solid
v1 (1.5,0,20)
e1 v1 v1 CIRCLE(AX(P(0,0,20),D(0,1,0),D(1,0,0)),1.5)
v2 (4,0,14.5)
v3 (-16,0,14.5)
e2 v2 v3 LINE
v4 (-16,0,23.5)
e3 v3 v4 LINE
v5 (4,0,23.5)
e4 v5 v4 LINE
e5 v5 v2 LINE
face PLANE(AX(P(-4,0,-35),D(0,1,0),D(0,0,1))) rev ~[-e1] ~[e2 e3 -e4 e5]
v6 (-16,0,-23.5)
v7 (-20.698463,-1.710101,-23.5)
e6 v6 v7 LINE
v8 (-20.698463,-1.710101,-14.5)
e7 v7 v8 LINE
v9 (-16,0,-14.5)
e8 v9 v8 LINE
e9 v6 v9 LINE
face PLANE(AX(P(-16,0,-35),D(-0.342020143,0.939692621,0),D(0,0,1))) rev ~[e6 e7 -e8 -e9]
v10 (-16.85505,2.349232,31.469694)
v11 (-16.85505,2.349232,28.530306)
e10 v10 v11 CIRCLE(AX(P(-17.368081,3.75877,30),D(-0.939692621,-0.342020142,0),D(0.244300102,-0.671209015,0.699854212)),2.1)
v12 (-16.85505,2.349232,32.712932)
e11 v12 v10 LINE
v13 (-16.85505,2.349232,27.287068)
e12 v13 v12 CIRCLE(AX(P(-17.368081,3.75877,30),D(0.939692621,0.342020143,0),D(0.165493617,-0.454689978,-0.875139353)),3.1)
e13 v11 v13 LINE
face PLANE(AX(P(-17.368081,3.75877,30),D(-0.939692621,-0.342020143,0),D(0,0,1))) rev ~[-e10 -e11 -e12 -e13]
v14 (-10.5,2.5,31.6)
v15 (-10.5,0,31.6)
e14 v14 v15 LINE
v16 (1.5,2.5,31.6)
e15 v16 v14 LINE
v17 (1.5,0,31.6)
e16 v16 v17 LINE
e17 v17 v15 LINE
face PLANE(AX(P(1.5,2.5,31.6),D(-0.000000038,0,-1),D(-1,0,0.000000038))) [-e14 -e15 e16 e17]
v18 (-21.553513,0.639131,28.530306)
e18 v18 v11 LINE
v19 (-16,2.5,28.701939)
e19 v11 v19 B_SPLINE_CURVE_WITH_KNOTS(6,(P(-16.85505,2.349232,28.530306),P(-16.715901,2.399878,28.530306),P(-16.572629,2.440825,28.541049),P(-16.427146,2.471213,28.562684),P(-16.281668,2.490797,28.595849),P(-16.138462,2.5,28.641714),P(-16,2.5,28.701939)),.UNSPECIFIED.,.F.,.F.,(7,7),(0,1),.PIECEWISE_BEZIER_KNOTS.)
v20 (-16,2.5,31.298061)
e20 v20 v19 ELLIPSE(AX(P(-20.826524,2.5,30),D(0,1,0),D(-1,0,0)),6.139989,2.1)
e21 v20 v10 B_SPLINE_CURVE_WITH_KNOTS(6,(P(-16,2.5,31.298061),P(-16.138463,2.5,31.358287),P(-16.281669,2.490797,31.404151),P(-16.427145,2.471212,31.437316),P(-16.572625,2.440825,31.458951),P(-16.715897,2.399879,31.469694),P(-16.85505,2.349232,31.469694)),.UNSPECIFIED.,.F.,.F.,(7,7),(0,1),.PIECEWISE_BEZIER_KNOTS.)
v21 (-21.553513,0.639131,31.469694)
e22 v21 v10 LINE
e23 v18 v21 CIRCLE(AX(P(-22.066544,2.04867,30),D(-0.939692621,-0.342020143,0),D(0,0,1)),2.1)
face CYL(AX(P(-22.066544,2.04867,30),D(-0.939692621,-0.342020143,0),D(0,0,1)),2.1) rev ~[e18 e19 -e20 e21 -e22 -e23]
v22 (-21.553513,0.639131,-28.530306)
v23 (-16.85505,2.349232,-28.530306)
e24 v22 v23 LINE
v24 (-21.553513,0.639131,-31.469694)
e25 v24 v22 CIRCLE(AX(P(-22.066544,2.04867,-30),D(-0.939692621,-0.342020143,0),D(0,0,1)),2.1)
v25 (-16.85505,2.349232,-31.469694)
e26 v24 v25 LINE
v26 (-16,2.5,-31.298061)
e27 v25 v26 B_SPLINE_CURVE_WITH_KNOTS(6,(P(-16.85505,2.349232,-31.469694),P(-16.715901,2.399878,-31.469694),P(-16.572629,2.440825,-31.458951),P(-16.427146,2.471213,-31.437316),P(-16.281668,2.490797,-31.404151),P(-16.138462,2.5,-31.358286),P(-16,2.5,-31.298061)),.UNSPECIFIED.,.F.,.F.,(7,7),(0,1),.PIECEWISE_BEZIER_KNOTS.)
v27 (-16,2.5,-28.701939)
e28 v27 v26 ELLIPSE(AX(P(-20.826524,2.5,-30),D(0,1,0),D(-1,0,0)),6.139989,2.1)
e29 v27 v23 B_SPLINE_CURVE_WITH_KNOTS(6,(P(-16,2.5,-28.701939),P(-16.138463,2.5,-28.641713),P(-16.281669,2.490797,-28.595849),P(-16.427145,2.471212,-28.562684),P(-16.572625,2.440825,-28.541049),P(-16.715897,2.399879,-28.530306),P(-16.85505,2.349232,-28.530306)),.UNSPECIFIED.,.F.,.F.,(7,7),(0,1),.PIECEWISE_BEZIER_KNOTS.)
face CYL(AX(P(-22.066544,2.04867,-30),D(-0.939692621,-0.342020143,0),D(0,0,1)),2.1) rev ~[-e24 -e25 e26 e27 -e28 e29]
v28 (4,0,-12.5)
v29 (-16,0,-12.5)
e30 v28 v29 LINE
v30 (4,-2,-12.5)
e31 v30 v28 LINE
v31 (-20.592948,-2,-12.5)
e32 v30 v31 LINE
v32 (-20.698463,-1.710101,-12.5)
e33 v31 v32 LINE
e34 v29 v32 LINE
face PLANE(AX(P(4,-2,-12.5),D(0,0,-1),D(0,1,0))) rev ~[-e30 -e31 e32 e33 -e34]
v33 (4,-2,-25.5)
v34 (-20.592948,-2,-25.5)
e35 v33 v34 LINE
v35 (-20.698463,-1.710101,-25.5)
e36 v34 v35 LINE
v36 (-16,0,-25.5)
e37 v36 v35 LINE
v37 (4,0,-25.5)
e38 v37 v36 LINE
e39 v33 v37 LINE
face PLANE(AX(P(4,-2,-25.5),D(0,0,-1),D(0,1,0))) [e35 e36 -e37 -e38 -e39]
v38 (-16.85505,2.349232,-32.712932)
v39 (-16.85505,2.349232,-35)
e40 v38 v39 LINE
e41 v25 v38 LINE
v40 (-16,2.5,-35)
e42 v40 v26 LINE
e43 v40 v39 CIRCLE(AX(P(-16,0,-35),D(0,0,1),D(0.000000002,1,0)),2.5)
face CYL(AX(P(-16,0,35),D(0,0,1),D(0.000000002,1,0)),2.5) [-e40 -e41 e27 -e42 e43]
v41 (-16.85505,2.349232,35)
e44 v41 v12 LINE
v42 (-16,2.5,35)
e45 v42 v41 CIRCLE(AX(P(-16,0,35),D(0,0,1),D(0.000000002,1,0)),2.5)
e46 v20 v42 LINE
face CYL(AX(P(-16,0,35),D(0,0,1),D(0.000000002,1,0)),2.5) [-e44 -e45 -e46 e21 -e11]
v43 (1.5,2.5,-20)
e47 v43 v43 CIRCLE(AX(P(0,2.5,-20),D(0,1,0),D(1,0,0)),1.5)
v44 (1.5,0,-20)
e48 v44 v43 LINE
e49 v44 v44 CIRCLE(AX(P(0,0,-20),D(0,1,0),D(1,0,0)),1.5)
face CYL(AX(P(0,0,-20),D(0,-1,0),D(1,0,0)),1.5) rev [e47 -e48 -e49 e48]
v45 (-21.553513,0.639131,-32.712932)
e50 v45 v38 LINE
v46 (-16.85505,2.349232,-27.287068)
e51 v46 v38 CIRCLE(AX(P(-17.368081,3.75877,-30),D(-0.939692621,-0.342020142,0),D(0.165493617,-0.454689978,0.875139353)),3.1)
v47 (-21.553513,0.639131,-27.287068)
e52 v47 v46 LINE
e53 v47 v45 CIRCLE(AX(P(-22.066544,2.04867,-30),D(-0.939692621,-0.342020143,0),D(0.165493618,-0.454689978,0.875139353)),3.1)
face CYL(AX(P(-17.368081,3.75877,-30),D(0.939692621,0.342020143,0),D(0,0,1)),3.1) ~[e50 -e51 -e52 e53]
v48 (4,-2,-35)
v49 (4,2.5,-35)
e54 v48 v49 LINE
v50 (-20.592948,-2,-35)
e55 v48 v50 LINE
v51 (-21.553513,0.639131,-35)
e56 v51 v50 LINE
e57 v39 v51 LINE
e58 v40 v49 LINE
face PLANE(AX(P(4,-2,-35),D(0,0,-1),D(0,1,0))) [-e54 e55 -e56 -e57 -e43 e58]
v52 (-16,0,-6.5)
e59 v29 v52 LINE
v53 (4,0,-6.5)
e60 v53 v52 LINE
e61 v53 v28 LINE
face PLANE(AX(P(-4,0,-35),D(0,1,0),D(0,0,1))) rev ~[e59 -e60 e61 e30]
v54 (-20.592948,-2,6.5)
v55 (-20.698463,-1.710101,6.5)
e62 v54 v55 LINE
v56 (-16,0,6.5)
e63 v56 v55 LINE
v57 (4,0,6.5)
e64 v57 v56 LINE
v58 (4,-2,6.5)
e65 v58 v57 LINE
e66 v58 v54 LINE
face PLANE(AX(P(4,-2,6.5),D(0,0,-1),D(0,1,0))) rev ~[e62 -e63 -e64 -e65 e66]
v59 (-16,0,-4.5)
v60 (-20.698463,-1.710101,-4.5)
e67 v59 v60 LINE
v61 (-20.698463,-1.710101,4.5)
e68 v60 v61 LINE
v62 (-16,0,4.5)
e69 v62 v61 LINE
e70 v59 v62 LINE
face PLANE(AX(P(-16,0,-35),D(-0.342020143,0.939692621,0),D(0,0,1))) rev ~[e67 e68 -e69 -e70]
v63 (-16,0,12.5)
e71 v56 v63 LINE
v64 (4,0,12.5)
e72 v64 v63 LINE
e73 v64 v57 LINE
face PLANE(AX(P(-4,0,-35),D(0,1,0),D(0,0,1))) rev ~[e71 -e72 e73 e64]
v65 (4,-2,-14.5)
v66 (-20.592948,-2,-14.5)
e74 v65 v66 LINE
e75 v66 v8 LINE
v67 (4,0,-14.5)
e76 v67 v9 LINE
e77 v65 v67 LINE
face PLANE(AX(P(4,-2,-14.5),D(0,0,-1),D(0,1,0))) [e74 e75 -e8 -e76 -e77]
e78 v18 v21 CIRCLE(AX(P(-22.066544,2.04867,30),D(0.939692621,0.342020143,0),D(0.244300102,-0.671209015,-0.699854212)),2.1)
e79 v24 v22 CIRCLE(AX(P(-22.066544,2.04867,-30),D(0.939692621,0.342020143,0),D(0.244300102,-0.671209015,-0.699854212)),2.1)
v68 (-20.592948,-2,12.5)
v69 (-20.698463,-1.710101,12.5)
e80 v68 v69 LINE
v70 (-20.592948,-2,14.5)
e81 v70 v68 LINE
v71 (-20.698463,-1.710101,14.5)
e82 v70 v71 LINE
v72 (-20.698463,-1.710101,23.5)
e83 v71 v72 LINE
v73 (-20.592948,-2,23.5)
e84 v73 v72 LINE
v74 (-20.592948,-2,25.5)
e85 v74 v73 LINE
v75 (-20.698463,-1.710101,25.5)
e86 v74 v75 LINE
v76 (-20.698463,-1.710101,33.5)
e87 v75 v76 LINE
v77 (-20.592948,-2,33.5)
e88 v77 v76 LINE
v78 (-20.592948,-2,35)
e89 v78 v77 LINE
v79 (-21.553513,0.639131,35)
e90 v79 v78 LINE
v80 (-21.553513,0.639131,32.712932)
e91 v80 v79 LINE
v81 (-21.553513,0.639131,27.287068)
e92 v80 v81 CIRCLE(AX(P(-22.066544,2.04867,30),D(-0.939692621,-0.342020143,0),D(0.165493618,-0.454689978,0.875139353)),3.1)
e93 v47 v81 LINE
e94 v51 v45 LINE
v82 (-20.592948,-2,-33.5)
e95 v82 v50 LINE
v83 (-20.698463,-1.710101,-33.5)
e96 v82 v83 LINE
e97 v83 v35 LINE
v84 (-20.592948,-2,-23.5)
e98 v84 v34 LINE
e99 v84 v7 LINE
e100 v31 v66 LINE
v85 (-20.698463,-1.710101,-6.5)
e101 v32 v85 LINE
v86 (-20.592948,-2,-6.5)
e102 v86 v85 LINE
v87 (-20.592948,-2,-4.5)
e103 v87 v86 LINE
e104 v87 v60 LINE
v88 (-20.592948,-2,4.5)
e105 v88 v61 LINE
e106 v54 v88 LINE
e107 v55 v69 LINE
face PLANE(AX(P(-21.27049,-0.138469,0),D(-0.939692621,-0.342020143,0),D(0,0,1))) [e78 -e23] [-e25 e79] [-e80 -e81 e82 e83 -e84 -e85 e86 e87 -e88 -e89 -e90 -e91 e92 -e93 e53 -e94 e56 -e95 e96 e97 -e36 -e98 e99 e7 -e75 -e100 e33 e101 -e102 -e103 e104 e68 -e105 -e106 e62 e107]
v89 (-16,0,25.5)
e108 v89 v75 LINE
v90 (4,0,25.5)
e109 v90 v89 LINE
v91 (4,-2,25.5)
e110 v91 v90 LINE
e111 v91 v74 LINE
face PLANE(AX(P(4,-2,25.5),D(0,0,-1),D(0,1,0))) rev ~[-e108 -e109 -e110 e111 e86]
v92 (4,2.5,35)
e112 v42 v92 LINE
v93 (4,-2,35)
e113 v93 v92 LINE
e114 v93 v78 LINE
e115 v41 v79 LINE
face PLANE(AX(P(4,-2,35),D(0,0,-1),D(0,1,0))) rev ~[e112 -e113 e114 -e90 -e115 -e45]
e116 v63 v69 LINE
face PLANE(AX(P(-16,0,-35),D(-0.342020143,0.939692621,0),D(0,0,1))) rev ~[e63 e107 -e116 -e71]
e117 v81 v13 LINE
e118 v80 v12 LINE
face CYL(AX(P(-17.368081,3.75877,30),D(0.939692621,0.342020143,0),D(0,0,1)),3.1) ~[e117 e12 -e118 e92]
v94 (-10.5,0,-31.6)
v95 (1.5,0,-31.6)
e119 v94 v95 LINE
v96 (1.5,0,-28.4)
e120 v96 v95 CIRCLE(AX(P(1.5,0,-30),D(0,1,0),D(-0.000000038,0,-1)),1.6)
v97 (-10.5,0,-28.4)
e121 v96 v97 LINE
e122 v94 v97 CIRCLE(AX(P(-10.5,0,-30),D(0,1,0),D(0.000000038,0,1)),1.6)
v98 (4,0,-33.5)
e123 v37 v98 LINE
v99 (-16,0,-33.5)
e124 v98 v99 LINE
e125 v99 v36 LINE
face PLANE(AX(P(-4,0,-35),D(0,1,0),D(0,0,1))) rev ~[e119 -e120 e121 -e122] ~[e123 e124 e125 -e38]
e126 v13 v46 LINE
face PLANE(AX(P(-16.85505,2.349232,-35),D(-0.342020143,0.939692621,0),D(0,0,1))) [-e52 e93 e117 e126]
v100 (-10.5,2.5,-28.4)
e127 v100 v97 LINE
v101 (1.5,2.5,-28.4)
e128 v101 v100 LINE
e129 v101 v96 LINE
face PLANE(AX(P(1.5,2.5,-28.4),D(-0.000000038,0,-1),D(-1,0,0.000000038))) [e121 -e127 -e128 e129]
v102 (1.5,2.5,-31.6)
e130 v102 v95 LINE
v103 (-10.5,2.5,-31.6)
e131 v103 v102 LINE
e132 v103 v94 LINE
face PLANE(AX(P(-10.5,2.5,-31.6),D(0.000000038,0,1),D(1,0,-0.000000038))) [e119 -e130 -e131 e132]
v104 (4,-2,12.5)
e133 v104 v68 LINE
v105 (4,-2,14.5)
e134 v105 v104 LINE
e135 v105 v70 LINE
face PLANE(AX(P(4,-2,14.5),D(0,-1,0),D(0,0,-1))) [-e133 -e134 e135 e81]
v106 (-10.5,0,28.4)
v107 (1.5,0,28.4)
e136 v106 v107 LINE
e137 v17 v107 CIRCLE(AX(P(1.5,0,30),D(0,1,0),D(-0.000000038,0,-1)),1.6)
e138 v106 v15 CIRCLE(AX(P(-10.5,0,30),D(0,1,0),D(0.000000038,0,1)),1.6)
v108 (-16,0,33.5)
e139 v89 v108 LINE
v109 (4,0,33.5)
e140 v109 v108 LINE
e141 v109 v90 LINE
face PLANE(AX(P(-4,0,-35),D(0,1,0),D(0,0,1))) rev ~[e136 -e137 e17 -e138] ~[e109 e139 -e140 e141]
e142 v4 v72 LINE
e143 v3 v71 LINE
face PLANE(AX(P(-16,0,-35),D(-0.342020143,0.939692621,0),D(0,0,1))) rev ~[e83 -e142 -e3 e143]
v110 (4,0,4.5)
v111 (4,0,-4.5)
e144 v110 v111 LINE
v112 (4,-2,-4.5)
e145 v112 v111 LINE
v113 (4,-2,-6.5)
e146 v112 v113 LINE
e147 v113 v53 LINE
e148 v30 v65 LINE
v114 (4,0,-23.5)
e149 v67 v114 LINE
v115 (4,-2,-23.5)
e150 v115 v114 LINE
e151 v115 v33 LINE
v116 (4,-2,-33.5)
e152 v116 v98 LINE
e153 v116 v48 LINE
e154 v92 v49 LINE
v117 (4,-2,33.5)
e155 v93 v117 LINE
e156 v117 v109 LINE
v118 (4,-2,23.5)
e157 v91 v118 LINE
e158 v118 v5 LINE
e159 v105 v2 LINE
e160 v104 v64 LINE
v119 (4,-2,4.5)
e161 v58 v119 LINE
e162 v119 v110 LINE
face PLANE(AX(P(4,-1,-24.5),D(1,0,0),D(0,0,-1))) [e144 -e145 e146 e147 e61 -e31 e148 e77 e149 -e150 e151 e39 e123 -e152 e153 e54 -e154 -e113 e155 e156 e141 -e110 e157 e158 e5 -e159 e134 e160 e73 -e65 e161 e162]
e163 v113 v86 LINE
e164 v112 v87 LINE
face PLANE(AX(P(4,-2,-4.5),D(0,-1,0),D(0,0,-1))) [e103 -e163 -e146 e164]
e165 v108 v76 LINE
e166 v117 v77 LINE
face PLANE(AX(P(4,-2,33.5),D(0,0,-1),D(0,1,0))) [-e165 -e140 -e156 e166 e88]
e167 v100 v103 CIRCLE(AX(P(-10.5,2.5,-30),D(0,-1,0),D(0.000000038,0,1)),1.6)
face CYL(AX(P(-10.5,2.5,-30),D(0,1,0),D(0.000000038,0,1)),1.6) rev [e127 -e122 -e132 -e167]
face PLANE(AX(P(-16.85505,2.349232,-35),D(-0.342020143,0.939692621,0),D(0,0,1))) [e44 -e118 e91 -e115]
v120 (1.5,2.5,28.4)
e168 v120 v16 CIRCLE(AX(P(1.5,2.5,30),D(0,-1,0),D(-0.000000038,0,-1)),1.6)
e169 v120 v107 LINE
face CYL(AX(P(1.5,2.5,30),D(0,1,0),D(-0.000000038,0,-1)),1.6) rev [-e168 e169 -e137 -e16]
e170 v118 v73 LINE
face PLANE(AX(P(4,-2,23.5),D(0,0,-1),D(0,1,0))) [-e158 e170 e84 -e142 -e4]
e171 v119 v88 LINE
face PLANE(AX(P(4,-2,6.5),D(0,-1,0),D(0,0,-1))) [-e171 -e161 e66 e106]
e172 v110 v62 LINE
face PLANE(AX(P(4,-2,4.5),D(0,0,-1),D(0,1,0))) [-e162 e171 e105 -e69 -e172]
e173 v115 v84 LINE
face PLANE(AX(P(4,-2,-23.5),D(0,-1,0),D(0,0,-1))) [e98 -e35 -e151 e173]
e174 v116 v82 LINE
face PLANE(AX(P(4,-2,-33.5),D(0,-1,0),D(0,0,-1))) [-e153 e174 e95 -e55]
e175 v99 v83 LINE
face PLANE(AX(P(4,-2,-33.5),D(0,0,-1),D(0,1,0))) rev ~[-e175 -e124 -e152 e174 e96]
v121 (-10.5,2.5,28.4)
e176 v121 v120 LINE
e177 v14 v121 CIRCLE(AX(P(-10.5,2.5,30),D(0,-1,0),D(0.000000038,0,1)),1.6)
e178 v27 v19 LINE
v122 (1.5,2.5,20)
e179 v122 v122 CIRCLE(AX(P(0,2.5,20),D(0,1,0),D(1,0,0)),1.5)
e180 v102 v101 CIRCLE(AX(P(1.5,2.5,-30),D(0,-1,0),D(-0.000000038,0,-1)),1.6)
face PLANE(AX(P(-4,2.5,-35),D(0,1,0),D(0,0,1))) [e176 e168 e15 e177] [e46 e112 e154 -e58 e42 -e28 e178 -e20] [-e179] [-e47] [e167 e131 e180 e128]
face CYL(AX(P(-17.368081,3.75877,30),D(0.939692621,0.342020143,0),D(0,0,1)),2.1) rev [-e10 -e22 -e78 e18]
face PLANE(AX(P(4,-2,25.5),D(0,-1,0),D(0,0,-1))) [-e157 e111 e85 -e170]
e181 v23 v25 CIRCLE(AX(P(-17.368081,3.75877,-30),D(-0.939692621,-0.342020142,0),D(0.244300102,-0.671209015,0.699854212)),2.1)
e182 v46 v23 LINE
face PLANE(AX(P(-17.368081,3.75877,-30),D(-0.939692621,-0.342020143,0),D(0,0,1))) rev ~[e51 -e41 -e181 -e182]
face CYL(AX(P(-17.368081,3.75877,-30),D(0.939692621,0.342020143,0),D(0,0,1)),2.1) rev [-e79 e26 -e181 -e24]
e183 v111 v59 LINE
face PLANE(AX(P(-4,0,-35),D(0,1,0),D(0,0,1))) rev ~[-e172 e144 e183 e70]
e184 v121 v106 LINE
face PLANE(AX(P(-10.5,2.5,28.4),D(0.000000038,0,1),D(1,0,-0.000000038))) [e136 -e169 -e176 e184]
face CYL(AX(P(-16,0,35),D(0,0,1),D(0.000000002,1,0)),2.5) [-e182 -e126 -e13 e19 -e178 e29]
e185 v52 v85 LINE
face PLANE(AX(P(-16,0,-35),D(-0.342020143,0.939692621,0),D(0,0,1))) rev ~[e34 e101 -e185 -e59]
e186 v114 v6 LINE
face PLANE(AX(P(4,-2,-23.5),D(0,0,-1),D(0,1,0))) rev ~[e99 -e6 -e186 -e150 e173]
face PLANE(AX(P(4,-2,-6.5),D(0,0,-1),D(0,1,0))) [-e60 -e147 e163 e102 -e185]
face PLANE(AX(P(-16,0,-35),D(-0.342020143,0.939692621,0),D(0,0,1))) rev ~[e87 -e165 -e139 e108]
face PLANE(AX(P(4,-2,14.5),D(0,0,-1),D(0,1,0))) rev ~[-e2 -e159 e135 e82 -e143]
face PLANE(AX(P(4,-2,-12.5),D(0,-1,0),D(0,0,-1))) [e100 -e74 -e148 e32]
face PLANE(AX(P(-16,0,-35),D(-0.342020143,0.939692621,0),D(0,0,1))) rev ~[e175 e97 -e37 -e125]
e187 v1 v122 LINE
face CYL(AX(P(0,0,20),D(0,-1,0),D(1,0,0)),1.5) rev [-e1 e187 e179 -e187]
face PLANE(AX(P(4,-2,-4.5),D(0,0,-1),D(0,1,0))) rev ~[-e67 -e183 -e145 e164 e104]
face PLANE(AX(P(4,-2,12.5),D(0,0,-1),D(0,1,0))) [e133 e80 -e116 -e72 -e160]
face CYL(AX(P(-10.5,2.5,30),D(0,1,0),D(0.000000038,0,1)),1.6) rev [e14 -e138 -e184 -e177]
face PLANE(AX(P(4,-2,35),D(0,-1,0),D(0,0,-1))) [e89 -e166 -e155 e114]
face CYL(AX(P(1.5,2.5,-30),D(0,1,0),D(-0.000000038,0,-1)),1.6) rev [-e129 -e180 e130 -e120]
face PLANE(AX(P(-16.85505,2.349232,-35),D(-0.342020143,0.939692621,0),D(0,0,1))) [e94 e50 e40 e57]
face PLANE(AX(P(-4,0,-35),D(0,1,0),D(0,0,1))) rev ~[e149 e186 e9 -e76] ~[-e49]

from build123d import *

# Parameters (mm, degrees)
SKETCH_1_W          = 8
SKETCH_1_H          = 70
SKETCH_1_R          = 1.5
EXTRUDE_1_DEPTH     = 2.5
SKETCH_4_W          = 70
SKETCH_4_H          = 2.5
EXTRUDE_3_DEPTH     = 12
EXTRUDE_4_DEPTH     = 70
SKETCH_7_R          = 3.1
SKETCH_7_R_2        = 2.1
EXTRUDE_2_DEPTH     = 5
SKETCH_8_W          = 70
SKETCH_8_H          = 2.5
EXTRUDE_5_DEPTH     = 5
CUT_EXTRUDE_1_REACH = 28.076
SKETCH_9_R          = 2.1
CUT_EXTRUDE_2_DEPTH = 10
EXTRUDE_6_REACH     = 29.127
SKETCH_15_W         = 1.5
SKETCH_15_H         = 2
SKETCH_15_W_2       = 2


with BuildPart() as part:
    # 草图1 → 凸台-拉伸1 (new body)
    with BuildSketch(Plane(origin=(0, 0, 0), x_dir=(1, 0, 0), z_dir=(0, 1, 0))):
        Rectangle(SKETCH_1_W, SKETCH_1_H)
        with Locations((0, 30)):
            Circle(SKETCH_1_R, mode=Mode.SUBTRACT)
        with Locations((0, 20)):
            Circle(SKETCH_1_R, mode=Mode.SUBTRACT)
        with Locations((0, -20)):
            Circle(SKETCH_1_R, mode=Mode.SUBTRACT)
        with Locations((0, -30)):
            Circle(SKETCH_1_R, mode=Mode.SUBTRACT)
    extrude(amount=EXTRUDE_1_DEPTH)

    # 草图4 → 凸台-拉伸3 (add)
    with BuildSketch(Plane.ZY.offset(4)):
        with Locations((0, 1.25)):
            Rectangle(SKETCH_4_W, SKETCH_4_H)
    extrude(amount=EXTRUDE_3_DEPTH)

    # 草图6 → 凸台-拉伸4 (add)
    with BuildSketch(Plane.XY.offset(35)):
        with BuildLine():
            Line((-16.855050358, 2.349231552), (-16, 0))
            Line((-16, 0), (-16, 2.5))
            ThreePointArc((-16, 2.5), (-16.434120444, 2.462019383), (-16.855050358, 2.349231552))
        make_face()
    extrude(amount=-EXTRUDE_4_DEPTH)

    # 草图7 → 拉伸-薄壁2 (add)
    with BuildSketch(Plane(origin=(-14.128355545, -5.142300877, 0), x_dir=(0, 0, 1), z_dir=(-0.939692621, -0.342020143, 0))):
        with Locations((30, 9.472322293)):
            Circle(SKETCH_7_R)
        with Locations((30, 9.472322293)):
            Circle(SKETCH_7_R_2, mode=Mode.SUBTRACT)
        with Locations((-30, 9.472322293)):
            Circle(SKETCH_7_R)
        with Locations((-30, 9.472322293)):
            Circle(SKETCH_7_R_2, mode=Mode.SUBTRACT)
    extrude(amount=EXTRUDE_2_DEPTH)

    # 草图8 → 凸台-拉伸5 (add)
    with BuildSketch(Plane(origin=(-14.128355545, -5.142300877, 0), x_dir=(0, 0, 1), z_dir=(-0.939692621, -0.342020143, 0))):
        with Locations((0, 6.722322293)):
            Rectangle(SKETCH_8_W, SKETCH_8_H)
    extrude(amount=EXTRUDE_5_DEPTH)

    # 草图9 → 切除-拉伸1 (cut, up to next)
    with BuildSketch(Plane(origin=(-18.826818649, -6.852401594, 0), x_dir=(0, 0, 1), z_dir=(-0.939692621, -0.342020143, 0)), mode=Mode.PRIVATE) as cut_extrude_1_sk1:
        with Locations((-30, 9.472322293)):
            Circle(SKETCH_9_R)
    cut_extrude_1_tool1 = extrude(cut_extrude_1_sk1.sketch, amount=-CUT_EXTRUDE_1_REACH, mode=Mode.PRIVATE) & part.part
    add(cut_extrude_1_tool1.solids().sort_by_distance((-22.066544, 2.04867, -30))[0], mode=Mode.SUBTRACT)
    # 草图9 → 切除-拉伸1 (cut, up to next)
    with BuildSketch(Plane(origin=(-18.826818649, -6.852401594, 0), x_dir=(0, 0, 1), z_dir=(-0.939692621, -0.342020143, 0)), mode=Mode.PRIVATE) as cut_extrude_1_sk2:
        with Locations((30, 9.472322293)):
            Circle(SKETCH_9_R)
    cut_extrude_1_tool2 = extrude(cut_extrude_1_sk2.sketch, amount=-CUT_EXTRUDE_1_REACH, mode=Mode.PRIVATE) & part.part
    add(cut_extrude_1_tool2.solids().sort_by_distance((-22.066544, 2.04867, 30))[0], mode=Mode.SUBTRACT)

    # 草图11 → 切除-拉伸2 (cut)
    with BuildSketch(Plane(origin=(0, 2.5, 0), x_dir=(1, 0, 0), z_dir=(0, 1, 0))):
        with BuildLine():
            Line((1.500000061, 28.40000046), (-10.499999939, 28.4))
            ThreePointArc((-10.499999939, 28.4), (-12.1, 29.999999939), (-10.500000061, 31.6))
            Line((-10.500000061, 31.6), (1.499999939, 31.60000046))
            ThreePointArc((1.499999939, 31.60000046), (3.1, 30.000000521), (1.500000061, 28.40000046))
        make_face()
        with BuildLine():
            Line((1.500000061, -31.59999977), (-10.499999939, -31.60000023))
            ThreePointArc((-10.499999939, -31.60000023), (-12.1, -30.000000291), (-10.500000061, -28.40000023))
            Line((-10.500000061, -28.40000023), (1.499999939, -28.39999977))
            ThreePointArc((1.499999939, -28.39999977), (3.1, -29.999999709), (1.500000061, -31.59999977))
        make_face()
    extrude(amount=-CUT_EXTRUDE_2_DEPTH, mode=Mode.SUBTRACT)

    # 凸台-拉伸6: up to this face of the body (flat: up to its plane)
    extrude_6_end = Plane(part.part.faces().sort_by_distance((-21.270490347, -0.138468784, 0))[0])
    # 草图15 → 凸台-拉伸6 (add, up to the picked face)
    with BuildSketch(Plane(origin=(4, 0, 0), x_dir=(0, 0, -1), z_dir=(1, 0, 0)), mode=Mode.PRIVATE) as extrude_6_sk1:
        with Locations((-34.25, -1)):
            Rectangle(SKETCH_15_W, SKETCH_15_H)
    extrude_6_tool1 = split(extrude(extrude_6_sk1.sketch, amount=-EXTRUDE_6_REACH, mode=Mode.PRIVATE), bisect_by=extrude_6_end, keep=Keep.BOTH, mode=Mode.PRIVATE)
    add(extrude_6_tool1.solids().sort_by_distance((4, -1, 34.25))[0])
    # 草图15 → 凸台-拉伸6 (add, up to the picked face)
    with BuildSketch(Plane(origin=(4, 0, 0), x_dir=(0, 0, -1), z_dir=(1, 0, 0)), mode=Mode.PRIVATE) as extrude_6_sk2:
        with Locations((-24.5, -1)):
            Rectangle(SKETCH_15_W_2, SKETCH_15_H)
    extrude_6_tool2 = split(extrude(extrude_6_sk2.sketch, amount=-EXTRUDE_6_REACH, mode=Mode.PRIVATE), bisect_by=extrude_6_end, keep=Keep.BOTH, mode=Mode.PRIVATE)
    add(extrude_6_tool2.solids().sort_by_distance((4, -1, 24.5))[0])
    # 草图15 → 凸台-拉伸6 (add, up to the picked face)
    with BuildSketch(Plane(origin=(4, 0, 0), x_dir=(0, 0, -1), z_dir=(1, 0, 0)), mode=Mode.PRIVATE) as extrude_6_sk3:
        with Locations((-13.5, -1)):
            Rectangle(SKETCH_15_W_2, SKETCH_15_H)
    extrude_6_tool3 = split(extrude(extrude_6_sk3.sketch, amount=-EXTRUDE_6_REACH, mode=Mode.PRIVATE), bisect_by=extrude_6_end, keep=Keep.BOTH, mode=Mode.PRIVATE)
    add(extrude_6_tool3.solids().sort_by_distance((4, -1, 13.5))[0])
    # 草图15 → 凸台-拉伸6 (add, up to the picked face)
    with BuildSketch(Plane(origin=(4, 0, 0), x_dir=(0, 0, -1), z_dir=(1, 0, 0)), mode=Mode.PRIVATE) as extrude_6_sk4:
        with Locations((-5.5, -1)):
            Rectangle(SKETCH_15_W_2, SKETCH_15_H)
    extrude_6_tool4 = split(extrude(extrude_6_sk4.sketch, amount=-EXTRUDE_6_REACH, mode=Mode.PRIVATE), bisect_by=extrude_6_end, keep=Keep.BOTH, mode=Mode.PRIVATE)
    add(extrude_6_tool4.solids().sort_by_distance((4, -1, 5.5))[0])
    # 草图15 → 凸台-拉伸6 (add, up to the picked face)
    with BuildSketch(Plane(origin=(4, 0, 0), x_dir=(0, 0, -1), z_dir=(1, 0, 0)), mode=Mode.PRIVATE) as extrude_6_sk5:
        with Locations((5.5, -1)):
            Rectangle(SKETCH_15_W_2, SKETCH_15_H)
    extrude_6_tool5 = split(extrude(extrude_6_sk5.sketch, amount=-EXTRUDE_6_REACH, mode=Mode.PRIVATE), bisect_by=extrude_6_end, keep=Keep.BOTH, mode=Mode.PRIVATE)
    add(extrude_6_tool5.solids().sort_by_distance((4, -1, -5.5))[0])
    # 草图15 → 凸台-拉伸6 (add, up to the picked face)
    with BuildSketch(Plane(origin=(4, 0, 0), x_dir=(0, 0, -1), z_dir=(1, 0, 0)), mode=Mode.PRIVATE) as extrude_6_sk6:
        with Locations((13.5, -1)):
            Rectangle(SKETCH_15_W_2, SKETCH_15_H)
    extrude_6_tool6 = split(extrude(extrude_6_sk6.sketch, amount=-EXTRUDE_6_REACH, mode=Mode.PRIVATE), bisect_by=extrude_6_end, keep=Keep.BOTH, mode=Mode.PRIVATE)
    add(extrude_6_tool6.solids().sort_by_distance((4, -1, -13.5))[0])
    # 草图15 → 凸台-拉伸6 (add, up to the picked face)
    with BuildSketch(Plane(origin=(4, 0, 0), x_dir=(0, 0, -1), z_dir=(1, 0, 0)), mode=Mode.PRIVATE) as extrude_6_sk7:
        with Locations((34.25, -1)):
            Rectangle(SKETCH_15_W, SKETCH_15_H)
    extrude_6_tool7 = split(extrude(extrude_6_sk7.sketch, amount=-EXTRUDE_6_REACH, mode=Mode.PRIVATE), bisect_by=extrude_6_end, keep=Keep.BOTH, mode=Mode.PRIVATE)
    add(extrude_6_tool7.solids().sort_by_distance((4, -1, -34.25))[0])
    # 草图15 → 凸台-拉伸6 (add, up to the picked face)
    with BuildSketch(Plane(origin=(4, 0, 0), x_dir=(0, 0, -1), z_dir=(1, 0, 0)), mode=Mode.PRIVATE) as extrude_6_sk8:
        with Locations((24.5, -1)):
            Rectangle(SKETCH_15_W_2, SKETCH_15_H)
    extrude_6_tool8 = split(extrude(extrude_6_sk8.sketch, amount=-EXTRUDE_6_REACH, mode=Mode.PRIVATE), bisect_by=extrude_6_end, keep=Keep.BOTH, mode=Mode.PRIVATE)
    add(extrude_6_tool8.solids().sort_by_distance((4, -1, -24.5))[0])


solid = part.part
